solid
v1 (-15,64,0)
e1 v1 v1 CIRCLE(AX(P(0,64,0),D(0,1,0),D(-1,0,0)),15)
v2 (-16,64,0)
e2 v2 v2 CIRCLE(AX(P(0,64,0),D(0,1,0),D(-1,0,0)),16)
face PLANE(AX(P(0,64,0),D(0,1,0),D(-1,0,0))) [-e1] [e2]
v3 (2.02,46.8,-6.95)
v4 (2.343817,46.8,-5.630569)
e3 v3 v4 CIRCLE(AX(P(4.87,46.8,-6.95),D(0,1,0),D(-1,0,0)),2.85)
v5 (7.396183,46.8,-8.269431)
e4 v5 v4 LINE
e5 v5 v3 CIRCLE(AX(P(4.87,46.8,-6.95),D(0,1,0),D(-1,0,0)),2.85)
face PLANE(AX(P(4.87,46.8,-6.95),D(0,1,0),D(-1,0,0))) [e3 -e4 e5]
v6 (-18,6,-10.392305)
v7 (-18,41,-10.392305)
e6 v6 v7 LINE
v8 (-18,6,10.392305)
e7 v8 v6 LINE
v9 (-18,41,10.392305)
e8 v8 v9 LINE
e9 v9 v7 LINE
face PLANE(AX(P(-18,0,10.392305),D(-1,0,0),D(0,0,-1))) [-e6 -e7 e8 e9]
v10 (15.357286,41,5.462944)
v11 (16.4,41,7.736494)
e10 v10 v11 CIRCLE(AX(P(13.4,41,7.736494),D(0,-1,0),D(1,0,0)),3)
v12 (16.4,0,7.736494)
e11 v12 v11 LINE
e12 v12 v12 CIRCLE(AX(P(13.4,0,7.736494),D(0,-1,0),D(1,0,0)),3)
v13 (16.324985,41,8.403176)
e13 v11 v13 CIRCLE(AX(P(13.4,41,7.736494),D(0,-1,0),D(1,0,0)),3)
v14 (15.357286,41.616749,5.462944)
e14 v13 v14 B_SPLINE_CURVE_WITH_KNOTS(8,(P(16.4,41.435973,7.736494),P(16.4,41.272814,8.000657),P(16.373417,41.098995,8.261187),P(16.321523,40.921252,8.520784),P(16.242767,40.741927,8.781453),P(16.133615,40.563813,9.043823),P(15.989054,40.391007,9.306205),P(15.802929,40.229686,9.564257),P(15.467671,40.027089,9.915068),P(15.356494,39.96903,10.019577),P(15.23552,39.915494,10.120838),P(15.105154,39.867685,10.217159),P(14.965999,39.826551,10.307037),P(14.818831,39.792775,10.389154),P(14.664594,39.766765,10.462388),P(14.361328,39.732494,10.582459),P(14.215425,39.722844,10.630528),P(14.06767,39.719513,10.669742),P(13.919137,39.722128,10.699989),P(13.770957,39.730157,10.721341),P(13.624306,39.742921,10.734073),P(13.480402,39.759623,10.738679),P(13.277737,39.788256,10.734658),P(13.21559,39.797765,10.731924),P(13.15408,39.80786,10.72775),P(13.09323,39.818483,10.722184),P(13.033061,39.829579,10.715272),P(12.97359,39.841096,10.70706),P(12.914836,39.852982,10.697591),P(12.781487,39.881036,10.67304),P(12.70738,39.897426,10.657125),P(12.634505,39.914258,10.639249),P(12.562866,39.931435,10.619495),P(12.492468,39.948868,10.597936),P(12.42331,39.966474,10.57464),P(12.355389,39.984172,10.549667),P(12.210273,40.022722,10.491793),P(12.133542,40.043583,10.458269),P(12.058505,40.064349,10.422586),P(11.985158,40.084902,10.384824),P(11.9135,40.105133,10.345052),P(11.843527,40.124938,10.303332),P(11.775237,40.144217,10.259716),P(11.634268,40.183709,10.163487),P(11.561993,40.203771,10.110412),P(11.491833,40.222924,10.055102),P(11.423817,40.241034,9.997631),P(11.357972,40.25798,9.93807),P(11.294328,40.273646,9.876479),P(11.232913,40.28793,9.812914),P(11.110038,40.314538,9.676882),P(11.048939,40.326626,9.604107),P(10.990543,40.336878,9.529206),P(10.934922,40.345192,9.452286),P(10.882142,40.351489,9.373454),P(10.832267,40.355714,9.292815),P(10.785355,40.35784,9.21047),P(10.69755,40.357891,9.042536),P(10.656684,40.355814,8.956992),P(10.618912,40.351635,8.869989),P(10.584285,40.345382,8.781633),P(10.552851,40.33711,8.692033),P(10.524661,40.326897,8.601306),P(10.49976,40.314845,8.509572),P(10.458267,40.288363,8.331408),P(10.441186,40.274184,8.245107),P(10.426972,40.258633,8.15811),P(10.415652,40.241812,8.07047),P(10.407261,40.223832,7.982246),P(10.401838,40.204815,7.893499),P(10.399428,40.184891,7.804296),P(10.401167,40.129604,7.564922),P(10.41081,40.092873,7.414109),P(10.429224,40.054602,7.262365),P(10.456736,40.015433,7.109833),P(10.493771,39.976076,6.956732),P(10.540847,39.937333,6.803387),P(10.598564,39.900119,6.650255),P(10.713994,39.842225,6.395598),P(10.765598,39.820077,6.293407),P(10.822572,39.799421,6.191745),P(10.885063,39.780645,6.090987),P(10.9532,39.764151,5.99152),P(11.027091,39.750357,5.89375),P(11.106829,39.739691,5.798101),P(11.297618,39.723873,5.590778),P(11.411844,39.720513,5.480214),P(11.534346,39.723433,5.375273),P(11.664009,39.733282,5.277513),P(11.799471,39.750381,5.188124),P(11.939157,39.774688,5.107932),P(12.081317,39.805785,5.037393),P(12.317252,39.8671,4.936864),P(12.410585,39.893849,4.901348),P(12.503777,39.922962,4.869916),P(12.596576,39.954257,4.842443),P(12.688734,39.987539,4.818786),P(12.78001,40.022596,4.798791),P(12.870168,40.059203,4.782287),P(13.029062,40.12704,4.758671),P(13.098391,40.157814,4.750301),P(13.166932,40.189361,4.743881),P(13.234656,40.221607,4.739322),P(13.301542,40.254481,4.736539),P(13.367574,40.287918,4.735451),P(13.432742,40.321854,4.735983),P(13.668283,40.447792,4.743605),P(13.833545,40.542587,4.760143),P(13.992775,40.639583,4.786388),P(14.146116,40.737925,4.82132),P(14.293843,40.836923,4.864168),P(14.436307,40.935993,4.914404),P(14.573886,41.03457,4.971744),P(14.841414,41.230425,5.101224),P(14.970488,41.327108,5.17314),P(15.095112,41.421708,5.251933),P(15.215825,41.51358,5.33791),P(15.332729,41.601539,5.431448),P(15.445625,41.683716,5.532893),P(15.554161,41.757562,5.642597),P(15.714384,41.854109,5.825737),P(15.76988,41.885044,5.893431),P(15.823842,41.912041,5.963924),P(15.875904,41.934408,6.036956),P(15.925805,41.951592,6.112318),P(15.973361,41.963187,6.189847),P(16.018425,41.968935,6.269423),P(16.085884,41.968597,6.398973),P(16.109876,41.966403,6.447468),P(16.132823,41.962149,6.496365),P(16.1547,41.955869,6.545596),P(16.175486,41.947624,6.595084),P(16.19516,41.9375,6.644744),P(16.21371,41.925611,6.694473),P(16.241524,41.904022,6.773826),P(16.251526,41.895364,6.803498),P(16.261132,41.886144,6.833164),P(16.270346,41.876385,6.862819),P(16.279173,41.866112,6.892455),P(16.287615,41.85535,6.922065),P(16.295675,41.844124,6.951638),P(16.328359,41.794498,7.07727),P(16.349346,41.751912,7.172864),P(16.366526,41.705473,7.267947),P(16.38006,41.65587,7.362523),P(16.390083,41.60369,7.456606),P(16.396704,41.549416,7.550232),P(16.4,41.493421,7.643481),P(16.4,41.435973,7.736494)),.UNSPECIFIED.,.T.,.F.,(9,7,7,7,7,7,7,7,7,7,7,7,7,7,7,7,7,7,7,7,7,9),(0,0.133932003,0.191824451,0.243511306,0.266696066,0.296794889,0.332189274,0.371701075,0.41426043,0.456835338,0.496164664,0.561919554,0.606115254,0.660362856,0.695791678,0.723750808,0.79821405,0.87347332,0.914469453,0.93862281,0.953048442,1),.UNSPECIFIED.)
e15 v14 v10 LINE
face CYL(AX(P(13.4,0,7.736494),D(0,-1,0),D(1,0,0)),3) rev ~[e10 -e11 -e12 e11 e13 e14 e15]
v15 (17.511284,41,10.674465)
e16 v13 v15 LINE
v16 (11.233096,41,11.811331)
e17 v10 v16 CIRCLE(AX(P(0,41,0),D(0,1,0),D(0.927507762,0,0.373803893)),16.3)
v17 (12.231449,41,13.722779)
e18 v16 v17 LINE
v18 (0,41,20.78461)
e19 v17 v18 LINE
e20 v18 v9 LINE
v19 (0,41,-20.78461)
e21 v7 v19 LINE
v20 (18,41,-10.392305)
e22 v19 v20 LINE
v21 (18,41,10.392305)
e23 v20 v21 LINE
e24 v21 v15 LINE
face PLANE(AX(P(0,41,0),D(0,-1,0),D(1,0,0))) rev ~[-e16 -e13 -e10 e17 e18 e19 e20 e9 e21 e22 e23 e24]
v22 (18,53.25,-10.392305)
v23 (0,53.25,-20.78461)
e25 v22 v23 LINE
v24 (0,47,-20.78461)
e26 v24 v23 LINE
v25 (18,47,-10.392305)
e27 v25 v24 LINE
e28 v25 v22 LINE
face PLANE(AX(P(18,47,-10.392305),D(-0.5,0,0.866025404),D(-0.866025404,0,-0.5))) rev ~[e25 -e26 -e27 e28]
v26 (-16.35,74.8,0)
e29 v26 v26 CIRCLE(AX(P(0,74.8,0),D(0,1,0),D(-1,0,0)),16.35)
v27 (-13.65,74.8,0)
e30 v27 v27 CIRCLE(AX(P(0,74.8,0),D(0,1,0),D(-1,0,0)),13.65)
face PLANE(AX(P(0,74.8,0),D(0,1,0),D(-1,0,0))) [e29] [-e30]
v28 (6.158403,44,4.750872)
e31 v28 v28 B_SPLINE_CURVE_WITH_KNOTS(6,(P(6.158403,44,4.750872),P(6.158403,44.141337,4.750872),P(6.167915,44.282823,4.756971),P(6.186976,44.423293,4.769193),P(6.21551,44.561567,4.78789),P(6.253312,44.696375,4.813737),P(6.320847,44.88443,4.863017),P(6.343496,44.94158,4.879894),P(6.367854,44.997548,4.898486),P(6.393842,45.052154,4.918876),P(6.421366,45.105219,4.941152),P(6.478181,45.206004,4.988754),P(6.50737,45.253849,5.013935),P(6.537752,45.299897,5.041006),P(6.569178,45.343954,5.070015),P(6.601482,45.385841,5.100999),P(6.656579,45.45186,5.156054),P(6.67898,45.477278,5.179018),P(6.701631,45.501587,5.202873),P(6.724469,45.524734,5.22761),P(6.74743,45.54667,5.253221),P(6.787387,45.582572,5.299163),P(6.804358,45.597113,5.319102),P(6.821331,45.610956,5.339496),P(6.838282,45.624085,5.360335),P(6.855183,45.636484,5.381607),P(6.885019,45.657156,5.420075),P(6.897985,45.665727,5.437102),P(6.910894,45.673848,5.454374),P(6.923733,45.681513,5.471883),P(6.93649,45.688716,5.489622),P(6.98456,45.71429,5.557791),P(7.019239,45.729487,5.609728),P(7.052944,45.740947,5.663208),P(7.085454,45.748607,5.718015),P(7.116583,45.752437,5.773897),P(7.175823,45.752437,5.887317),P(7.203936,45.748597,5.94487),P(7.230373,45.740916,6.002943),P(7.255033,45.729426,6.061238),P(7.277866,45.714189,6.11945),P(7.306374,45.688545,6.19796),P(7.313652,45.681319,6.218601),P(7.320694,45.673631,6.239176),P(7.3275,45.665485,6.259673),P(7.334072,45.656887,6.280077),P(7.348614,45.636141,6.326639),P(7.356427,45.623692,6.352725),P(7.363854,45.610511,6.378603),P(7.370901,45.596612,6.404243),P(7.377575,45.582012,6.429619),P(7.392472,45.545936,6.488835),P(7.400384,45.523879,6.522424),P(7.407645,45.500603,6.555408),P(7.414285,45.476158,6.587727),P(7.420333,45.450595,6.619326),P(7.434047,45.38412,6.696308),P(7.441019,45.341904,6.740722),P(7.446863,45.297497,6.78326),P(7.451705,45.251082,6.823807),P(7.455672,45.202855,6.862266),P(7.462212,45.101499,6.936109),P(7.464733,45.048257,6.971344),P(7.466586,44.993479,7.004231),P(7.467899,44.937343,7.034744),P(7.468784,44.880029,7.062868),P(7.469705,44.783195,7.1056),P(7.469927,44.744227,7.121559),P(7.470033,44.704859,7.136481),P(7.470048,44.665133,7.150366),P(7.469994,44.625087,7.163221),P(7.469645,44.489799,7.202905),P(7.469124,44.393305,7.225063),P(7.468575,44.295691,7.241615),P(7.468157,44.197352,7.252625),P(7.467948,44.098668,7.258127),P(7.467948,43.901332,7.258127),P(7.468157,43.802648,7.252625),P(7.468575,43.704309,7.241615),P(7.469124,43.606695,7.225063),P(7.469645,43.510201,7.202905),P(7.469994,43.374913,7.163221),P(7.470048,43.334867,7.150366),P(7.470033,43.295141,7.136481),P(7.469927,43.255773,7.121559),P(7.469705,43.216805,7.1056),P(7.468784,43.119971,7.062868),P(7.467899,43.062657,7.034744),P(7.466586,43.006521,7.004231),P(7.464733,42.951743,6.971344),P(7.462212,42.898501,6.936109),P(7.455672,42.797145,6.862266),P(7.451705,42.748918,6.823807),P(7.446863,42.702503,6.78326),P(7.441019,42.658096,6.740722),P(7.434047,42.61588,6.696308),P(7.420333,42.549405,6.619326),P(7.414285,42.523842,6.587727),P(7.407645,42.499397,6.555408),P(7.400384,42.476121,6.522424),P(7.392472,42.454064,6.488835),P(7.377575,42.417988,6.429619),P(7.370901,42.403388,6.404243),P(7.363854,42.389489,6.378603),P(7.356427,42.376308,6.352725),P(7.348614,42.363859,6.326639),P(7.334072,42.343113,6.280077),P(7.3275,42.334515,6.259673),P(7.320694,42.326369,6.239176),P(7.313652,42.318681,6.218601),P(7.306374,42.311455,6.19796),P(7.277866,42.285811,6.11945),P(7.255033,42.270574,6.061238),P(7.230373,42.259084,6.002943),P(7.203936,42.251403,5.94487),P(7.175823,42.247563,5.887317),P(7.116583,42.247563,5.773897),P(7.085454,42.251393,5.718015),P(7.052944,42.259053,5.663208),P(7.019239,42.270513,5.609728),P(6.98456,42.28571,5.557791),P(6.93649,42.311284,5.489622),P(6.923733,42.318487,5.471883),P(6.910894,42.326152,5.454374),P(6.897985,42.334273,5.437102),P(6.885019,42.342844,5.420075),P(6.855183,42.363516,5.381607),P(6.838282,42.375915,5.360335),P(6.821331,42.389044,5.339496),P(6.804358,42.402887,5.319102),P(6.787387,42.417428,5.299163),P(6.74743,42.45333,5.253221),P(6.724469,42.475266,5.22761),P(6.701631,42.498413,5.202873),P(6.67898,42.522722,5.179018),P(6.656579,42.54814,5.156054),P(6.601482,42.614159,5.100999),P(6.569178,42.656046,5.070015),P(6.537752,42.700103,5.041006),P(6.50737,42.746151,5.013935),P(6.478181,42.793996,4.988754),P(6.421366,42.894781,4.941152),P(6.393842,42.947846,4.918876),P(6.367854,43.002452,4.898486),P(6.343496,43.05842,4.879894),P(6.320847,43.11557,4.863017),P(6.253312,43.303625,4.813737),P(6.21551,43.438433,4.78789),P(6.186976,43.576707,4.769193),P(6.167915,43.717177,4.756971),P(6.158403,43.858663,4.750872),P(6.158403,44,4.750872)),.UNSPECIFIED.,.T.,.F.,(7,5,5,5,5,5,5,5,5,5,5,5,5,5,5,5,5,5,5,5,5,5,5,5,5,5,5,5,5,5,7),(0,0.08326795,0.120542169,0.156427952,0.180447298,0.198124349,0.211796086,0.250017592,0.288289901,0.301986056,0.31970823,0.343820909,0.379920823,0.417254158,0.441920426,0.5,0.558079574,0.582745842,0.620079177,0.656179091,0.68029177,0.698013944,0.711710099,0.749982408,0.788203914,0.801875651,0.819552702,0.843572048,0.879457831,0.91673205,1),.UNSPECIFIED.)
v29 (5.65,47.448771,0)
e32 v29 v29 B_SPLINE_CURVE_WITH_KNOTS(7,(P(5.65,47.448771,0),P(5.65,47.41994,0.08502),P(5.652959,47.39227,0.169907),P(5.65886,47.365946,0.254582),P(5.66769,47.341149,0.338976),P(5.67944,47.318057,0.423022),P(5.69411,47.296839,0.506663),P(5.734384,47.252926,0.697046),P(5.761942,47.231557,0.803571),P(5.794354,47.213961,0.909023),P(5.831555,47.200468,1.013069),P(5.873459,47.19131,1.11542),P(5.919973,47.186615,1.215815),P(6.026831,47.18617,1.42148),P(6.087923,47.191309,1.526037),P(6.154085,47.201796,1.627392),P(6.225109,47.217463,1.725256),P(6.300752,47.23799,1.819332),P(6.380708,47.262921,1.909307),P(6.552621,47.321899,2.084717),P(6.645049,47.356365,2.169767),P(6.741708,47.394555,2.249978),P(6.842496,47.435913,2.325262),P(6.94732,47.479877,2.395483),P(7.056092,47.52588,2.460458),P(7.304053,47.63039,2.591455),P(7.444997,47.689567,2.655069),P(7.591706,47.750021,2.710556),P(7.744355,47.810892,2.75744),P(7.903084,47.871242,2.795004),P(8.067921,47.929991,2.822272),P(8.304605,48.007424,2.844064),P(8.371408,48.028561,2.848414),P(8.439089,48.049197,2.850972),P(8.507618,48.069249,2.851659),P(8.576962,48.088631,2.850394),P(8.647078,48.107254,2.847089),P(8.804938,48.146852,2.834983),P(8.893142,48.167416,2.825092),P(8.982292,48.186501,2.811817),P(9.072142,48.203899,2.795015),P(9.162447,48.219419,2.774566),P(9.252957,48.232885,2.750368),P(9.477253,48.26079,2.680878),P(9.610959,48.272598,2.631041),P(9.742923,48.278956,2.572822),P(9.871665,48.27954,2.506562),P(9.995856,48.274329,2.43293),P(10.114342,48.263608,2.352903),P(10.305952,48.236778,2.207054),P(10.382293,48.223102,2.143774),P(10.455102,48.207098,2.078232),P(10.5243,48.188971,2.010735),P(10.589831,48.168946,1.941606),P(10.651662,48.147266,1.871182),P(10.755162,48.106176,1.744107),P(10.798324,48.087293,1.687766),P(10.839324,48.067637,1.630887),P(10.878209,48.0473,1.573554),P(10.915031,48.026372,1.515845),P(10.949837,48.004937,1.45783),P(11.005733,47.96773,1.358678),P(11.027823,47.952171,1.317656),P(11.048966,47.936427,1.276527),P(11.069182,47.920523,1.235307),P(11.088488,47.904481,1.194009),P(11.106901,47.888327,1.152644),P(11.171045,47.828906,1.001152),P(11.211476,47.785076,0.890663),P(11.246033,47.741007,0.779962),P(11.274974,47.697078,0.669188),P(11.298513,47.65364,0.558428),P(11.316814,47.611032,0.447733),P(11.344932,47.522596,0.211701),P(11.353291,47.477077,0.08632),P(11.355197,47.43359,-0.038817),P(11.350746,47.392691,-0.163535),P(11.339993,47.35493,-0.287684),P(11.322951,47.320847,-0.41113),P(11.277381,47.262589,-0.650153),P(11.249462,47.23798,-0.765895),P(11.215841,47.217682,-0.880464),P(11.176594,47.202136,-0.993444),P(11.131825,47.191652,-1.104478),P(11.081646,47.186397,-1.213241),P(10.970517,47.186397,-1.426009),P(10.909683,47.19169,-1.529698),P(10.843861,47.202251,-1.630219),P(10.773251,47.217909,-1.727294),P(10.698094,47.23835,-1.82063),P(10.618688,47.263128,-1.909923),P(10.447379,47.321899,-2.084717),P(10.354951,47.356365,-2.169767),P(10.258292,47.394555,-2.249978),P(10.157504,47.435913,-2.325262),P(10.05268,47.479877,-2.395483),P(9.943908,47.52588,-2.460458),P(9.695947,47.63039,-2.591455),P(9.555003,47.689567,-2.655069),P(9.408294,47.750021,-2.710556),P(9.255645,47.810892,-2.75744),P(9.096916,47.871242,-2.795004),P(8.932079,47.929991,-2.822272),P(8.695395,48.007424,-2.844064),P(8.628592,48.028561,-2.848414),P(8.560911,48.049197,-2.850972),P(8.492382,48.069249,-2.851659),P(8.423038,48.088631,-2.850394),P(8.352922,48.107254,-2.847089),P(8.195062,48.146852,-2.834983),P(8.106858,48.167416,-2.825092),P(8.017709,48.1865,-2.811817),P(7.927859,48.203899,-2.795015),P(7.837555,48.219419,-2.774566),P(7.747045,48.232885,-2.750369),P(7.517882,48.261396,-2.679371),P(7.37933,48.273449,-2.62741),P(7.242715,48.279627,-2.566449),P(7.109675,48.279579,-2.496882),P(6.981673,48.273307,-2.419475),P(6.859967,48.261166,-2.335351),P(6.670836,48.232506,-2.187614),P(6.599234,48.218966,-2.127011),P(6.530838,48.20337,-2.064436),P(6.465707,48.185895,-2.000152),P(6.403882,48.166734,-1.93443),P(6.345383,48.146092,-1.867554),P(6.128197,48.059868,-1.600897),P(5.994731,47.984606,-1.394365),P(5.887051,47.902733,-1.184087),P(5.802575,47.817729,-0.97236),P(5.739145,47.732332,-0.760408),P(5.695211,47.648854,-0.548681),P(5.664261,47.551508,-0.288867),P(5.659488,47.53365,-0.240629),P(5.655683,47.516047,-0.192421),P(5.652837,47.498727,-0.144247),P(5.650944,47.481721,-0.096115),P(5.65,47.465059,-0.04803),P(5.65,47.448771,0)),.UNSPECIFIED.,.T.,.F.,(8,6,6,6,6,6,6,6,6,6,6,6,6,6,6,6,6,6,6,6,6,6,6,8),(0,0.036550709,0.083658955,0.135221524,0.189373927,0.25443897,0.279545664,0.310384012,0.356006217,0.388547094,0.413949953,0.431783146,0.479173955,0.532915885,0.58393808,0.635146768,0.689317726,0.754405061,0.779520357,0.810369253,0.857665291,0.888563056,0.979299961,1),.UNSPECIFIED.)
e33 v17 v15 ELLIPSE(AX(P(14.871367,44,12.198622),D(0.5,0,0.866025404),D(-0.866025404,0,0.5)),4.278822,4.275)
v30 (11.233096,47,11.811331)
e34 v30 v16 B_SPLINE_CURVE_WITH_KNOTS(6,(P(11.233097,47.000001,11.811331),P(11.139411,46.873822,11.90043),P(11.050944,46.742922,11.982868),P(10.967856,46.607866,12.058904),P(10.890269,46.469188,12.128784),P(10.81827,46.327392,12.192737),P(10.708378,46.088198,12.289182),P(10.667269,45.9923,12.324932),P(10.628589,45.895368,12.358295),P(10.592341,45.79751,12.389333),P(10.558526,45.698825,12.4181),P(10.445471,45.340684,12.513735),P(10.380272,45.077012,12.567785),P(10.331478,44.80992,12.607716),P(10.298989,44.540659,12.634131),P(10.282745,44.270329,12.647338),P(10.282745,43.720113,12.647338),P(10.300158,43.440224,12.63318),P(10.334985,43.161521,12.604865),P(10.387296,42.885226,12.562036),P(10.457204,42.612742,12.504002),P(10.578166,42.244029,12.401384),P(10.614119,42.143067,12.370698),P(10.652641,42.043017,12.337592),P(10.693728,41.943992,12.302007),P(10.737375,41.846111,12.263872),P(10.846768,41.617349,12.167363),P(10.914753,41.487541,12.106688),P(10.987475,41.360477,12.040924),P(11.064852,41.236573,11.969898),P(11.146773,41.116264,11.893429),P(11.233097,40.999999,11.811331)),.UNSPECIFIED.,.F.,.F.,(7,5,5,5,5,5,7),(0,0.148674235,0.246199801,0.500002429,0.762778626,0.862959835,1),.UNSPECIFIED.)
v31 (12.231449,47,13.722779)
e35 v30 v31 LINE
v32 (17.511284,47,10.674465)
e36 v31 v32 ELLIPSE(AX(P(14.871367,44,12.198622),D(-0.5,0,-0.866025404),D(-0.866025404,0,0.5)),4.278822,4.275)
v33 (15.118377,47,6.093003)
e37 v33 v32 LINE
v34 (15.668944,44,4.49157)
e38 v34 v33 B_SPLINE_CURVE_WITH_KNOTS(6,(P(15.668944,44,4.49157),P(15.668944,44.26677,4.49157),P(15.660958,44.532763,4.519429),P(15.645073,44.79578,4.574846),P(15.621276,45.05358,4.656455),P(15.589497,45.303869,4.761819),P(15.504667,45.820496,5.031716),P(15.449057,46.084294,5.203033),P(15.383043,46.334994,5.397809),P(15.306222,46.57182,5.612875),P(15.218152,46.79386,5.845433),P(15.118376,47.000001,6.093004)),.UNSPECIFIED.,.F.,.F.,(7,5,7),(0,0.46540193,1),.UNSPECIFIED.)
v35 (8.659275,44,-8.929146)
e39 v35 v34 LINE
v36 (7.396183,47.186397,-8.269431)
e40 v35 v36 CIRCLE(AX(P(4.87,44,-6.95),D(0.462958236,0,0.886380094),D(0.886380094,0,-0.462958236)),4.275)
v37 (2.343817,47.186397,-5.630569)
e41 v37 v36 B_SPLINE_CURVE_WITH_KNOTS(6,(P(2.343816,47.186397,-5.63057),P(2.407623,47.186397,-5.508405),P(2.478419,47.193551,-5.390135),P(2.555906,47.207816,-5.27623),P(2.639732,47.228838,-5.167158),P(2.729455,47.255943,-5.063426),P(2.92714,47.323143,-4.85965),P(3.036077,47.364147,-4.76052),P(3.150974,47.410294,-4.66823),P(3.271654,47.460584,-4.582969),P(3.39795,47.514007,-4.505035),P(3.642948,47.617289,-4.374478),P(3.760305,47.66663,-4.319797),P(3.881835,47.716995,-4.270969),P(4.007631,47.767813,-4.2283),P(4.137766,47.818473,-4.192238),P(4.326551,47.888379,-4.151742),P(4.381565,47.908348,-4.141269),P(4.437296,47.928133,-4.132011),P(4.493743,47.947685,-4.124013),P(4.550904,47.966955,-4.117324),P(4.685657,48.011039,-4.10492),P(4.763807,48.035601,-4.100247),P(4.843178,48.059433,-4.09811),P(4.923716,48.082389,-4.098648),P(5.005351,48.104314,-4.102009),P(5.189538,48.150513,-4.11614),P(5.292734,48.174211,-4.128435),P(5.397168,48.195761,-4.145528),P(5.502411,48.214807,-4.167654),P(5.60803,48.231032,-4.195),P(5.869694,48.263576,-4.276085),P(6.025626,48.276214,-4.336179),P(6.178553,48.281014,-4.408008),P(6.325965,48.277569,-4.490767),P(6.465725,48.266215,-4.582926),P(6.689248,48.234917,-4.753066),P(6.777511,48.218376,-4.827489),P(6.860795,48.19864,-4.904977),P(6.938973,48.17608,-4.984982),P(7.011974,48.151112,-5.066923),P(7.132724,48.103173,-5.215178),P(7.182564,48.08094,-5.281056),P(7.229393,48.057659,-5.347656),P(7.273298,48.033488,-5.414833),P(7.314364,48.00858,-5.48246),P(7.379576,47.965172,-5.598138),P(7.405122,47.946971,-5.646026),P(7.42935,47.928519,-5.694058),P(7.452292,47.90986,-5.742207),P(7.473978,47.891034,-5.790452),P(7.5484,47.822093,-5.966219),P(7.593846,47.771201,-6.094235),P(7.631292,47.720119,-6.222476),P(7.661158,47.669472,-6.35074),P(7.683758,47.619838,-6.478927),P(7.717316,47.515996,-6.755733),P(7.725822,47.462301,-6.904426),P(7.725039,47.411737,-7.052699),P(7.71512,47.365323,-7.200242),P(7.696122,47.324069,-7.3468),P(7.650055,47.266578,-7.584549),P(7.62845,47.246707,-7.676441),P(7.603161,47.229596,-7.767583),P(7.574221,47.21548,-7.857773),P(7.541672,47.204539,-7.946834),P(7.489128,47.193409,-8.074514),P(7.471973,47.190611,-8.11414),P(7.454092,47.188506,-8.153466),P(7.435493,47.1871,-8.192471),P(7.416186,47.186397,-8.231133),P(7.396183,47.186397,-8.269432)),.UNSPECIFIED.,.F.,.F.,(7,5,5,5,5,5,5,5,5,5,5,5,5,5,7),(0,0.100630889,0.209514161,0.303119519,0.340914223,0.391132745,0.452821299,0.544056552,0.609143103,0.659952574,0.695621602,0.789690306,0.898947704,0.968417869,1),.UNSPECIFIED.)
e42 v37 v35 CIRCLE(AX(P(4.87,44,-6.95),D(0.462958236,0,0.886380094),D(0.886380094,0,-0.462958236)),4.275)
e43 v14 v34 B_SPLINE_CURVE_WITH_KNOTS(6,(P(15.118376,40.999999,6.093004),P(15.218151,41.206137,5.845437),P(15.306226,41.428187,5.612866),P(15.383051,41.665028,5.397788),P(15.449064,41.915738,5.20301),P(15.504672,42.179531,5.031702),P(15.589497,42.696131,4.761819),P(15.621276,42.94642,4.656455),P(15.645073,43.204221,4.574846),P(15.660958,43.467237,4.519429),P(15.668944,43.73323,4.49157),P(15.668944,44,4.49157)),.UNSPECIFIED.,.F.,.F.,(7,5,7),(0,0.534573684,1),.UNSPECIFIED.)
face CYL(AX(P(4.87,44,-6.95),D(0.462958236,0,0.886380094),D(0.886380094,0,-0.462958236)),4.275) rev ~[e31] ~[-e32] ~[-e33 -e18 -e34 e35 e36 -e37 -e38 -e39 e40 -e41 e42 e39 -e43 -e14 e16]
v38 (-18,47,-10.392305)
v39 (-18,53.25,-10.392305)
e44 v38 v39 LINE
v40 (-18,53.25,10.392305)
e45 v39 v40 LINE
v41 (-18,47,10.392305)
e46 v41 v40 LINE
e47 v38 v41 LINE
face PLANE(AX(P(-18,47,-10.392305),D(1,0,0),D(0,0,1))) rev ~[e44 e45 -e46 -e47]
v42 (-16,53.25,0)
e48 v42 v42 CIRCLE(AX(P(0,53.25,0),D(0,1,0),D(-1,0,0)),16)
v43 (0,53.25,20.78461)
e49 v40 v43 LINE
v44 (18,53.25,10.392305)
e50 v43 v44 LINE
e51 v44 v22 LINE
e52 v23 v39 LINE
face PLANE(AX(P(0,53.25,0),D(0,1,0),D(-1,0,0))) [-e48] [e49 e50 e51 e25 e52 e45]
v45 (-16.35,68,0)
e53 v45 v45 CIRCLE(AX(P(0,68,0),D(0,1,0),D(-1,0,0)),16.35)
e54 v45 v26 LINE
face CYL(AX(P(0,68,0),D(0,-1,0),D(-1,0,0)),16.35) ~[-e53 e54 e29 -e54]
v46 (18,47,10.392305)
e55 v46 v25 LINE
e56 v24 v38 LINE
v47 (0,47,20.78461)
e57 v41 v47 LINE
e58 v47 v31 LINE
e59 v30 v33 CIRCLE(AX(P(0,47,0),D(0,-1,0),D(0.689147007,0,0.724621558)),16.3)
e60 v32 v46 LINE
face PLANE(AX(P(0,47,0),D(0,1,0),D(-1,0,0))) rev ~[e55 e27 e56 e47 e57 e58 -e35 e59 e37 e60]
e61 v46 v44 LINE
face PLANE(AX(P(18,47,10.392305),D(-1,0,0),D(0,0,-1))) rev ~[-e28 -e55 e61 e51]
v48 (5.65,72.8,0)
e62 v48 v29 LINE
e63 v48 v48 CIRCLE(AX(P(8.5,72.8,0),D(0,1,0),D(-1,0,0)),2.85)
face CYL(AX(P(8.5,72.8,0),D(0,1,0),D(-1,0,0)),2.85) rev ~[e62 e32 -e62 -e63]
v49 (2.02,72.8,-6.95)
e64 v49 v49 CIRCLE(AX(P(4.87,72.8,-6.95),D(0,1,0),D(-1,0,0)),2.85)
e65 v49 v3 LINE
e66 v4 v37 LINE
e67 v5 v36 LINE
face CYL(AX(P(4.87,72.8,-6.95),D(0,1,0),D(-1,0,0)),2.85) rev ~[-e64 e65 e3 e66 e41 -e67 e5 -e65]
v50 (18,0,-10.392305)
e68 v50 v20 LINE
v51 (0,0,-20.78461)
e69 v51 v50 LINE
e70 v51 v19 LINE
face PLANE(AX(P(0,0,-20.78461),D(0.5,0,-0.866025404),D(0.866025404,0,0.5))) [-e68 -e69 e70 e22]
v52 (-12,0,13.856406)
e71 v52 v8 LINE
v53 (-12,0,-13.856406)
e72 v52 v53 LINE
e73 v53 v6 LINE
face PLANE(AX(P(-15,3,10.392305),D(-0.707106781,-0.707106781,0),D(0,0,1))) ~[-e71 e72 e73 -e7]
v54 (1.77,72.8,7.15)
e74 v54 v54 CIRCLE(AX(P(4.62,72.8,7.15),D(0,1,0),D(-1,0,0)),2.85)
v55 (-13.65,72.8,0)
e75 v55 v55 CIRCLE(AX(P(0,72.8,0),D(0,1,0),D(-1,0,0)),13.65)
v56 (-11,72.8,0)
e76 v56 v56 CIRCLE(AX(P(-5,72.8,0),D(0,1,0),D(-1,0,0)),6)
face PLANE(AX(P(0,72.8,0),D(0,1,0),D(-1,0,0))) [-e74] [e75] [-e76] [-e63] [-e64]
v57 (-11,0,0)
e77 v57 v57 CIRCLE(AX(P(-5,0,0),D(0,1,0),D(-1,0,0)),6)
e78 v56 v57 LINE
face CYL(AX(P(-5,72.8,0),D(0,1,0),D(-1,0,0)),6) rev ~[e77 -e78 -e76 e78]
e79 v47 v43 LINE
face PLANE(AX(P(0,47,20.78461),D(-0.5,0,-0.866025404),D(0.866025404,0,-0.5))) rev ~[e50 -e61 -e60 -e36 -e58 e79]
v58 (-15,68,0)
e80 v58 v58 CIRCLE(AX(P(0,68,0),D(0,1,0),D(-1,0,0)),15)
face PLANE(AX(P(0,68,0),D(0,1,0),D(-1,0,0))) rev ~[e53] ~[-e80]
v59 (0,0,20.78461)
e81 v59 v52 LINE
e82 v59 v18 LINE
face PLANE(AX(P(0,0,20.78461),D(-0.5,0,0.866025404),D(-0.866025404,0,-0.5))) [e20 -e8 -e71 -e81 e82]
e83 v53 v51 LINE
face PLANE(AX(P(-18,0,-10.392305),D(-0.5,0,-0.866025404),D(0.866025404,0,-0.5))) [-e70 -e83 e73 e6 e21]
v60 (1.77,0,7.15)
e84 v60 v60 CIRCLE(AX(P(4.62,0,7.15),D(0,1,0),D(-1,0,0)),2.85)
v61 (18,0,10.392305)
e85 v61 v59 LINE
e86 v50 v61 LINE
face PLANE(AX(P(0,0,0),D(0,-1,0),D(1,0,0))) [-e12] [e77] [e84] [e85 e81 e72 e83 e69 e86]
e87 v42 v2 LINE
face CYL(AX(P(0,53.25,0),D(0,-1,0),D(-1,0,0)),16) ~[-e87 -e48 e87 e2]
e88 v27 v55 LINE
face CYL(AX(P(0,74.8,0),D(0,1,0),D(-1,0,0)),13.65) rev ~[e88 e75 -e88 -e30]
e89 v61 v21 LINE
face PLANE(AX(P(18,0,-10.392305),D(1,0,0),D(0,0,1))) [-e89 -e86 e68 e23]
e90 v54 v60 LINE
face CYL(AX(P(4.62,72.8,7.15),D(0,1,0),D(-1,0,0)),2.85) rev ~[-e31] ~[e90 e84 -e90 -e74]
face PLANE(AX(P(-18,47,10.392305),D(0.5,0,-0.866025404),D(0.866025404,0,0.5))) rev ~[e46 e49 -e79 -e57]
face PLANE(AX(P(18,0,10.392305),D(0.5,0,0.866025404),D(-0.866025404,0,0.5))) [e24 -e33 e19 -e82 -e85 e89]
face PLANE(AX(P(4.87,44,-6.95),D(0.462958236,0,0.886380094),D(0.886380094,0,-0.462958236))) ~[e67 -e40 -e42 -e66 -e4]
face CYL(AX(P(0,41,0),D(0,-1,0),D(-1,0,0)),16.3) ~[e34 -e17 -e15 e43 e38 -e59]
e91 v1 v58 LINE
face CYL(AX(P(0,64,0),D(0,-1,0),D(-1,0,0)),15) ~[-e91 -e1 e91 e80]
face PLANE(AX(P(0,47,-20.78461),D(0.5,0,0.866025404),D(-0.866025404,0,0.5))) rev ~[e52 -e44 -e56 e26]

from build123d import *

# Parameters (mm, degrees)
F1_DEPTH  = 41
F2_R      = 16.3
F3_DEPTH  = 6
F5_DEPTH  = 6.25
F6_R      = 16
F7_DEPTH  = 10.75
F8_R      = 15
F9_DEPTH  = 4
F10_R     = 16.35
F11_DEPTH = 6.8
F12_R     = 13.65
F13_DEPTH = 2
F14_R     = 6
F15_DEPTH = 72.801
F16_R     = 2.85
F17_DEPTH = 26
F21_R     = 3
F22_DEPTH = 45
F23_SIZE  = 6
F24_R     = 2.85
F25_DEPTH = 72.8010001


with BuildPart() as f1:
    # F0 (on Front) → F1 (new body)
    with BuildSketch(Plane.XZ):
        Polygon((0, -20.7846096908), (18, -10.3923048454), (18, 10.3923048454), (0, 20.7846096908), (-18, 10.3923048454), (-18, -10.3923048454), align=None)
    extrude(amount=-F1_DEPTH)

    # F2 (on face) → F3 (join)
    with BuildSketch(Plane(origin=(0, 41, 0), x_dir=(-1, 0, 0), z_dir=(0, 1, 0))):
        Circle(F2_R)
    extrude(amount=F3_DEPTH)

    # F4 (on face) → F5 (join)
    with BuildSketch(Plane(origin=(0, 47, 0), x_dir=(-1, 0, 0), z_dir=(0, 1, 0))):
        Polygon((0, -20.7846096908), (18, -10.3923048454), (18, 10.3923048454), (0, 20.7846096908), (-18, 10.3923048454), (-18, -10.3923048454), align=None)
    extrude(amount=F5_DEPTH)

    # F6 (on face) → F7 (join)
    with BuildSketch(Plane(origin=(0, 53.25, 0), x_dir=(-1, 0, 0), z_dir=(0, 1, 0))):
        Circle(F6_R)
    extrude(amount=F7_DEPTH)

    # F8 (on face) → F9 (join)
    with BuildSketch(Plane(origin=(0, 64, 0), x_dir=(-1, 0, 0), z_dir=(0, 1, 0))):
        Circle(F8_R)
    extrude(amount=F9_DEPTH)

    # F10 (on face) → F11 (join)
    with BuildSketch(Plane(origin=(0, 68, 0), x_dir=(-1, 0, 0), z_dir=(0, 1, 0))):
        Circle(F10_R)
    extrude(amount=F11_DEPTH)

    # F12 (on face) → F13 (cut)
    with BuildSketch(Plane(origin=(0, 74.8, 0), x_dir=(-1, 0, 0), z_dir=(0, 1, 0))):
        Circle(F12_R)
    extrude(amount=-F13_DEPTH, mode=Mode.SUBTRACT)

    # F14 (on face) → F15 (cut, through all)
    with BuildSketch(Plane(origin=(0, 72.8, 0), x_dir=(-1, 0, 0), z_dir=(0, 1, 0))):
        with Locations((5, 0)):
            Circle(F14_R)
    extrude(amount=-F15_DEPTH, mode=Mode.SUBTRACT)

    # F16 (on face) → F17 (cut)
    with BuildSketch(Plane(origin=(0, 72.8, 0), x_dir=(-1, 0, 0), z_dir=(0, 1, 0))):
        with Locations((-4.87, -6.95)):
            Circle(F16_R)
        with Locations((-8.5, 0)):
            Circle(F16_R)
    extrude(amount=-F17_DEPTH, mode=Mode.SUBTRACT)

    # F19 (on offset) → F20 (revolve, cut)
    with BuildSketch(Plane.XZ.offset(-44)):
        Polygon((19.0103325466, 10.8889942077), (15.2210576437, 12.8681406677), (4.87, -6.95), (8.6592749029, -8.9291464601), align=None)
    revolve(axis=Axis((11.6872206375, 44, 6.1022543886), (0.4629582363, 0, 0.8863800942)), mode=Mode.SUBTRACT)

    # F21 (on face) → F22 (cut)
    with BuildSketch(Plane.XZ):
        with Locations((13.4, 7.7364936071)):
            Circle(F21_R)
    extrude(amount=-F22_DEPTH, mode=Mode.SUBTRACT)

    # F23
    f23_edges = [f1.edges().sort_by_distance(p)[0] for p in [
        (-18, 0, 0),
    ]]
    chamfer(f23_edges, length=F23_SIZE)

    # F24 (on face) → F25 (cut, through all)
    with BuildSketch(Plane(origin=(0, 72.8, 0), x_dir=(-1, 0, 0), z_dir=(0, 1, 0))):
        with Locations((-4.62, 7.15)):
            Circle(F24_R)
    extrude(amount=-F25_DEPTH, mode=Mode.SUBTRACT)


solid = f1.part
